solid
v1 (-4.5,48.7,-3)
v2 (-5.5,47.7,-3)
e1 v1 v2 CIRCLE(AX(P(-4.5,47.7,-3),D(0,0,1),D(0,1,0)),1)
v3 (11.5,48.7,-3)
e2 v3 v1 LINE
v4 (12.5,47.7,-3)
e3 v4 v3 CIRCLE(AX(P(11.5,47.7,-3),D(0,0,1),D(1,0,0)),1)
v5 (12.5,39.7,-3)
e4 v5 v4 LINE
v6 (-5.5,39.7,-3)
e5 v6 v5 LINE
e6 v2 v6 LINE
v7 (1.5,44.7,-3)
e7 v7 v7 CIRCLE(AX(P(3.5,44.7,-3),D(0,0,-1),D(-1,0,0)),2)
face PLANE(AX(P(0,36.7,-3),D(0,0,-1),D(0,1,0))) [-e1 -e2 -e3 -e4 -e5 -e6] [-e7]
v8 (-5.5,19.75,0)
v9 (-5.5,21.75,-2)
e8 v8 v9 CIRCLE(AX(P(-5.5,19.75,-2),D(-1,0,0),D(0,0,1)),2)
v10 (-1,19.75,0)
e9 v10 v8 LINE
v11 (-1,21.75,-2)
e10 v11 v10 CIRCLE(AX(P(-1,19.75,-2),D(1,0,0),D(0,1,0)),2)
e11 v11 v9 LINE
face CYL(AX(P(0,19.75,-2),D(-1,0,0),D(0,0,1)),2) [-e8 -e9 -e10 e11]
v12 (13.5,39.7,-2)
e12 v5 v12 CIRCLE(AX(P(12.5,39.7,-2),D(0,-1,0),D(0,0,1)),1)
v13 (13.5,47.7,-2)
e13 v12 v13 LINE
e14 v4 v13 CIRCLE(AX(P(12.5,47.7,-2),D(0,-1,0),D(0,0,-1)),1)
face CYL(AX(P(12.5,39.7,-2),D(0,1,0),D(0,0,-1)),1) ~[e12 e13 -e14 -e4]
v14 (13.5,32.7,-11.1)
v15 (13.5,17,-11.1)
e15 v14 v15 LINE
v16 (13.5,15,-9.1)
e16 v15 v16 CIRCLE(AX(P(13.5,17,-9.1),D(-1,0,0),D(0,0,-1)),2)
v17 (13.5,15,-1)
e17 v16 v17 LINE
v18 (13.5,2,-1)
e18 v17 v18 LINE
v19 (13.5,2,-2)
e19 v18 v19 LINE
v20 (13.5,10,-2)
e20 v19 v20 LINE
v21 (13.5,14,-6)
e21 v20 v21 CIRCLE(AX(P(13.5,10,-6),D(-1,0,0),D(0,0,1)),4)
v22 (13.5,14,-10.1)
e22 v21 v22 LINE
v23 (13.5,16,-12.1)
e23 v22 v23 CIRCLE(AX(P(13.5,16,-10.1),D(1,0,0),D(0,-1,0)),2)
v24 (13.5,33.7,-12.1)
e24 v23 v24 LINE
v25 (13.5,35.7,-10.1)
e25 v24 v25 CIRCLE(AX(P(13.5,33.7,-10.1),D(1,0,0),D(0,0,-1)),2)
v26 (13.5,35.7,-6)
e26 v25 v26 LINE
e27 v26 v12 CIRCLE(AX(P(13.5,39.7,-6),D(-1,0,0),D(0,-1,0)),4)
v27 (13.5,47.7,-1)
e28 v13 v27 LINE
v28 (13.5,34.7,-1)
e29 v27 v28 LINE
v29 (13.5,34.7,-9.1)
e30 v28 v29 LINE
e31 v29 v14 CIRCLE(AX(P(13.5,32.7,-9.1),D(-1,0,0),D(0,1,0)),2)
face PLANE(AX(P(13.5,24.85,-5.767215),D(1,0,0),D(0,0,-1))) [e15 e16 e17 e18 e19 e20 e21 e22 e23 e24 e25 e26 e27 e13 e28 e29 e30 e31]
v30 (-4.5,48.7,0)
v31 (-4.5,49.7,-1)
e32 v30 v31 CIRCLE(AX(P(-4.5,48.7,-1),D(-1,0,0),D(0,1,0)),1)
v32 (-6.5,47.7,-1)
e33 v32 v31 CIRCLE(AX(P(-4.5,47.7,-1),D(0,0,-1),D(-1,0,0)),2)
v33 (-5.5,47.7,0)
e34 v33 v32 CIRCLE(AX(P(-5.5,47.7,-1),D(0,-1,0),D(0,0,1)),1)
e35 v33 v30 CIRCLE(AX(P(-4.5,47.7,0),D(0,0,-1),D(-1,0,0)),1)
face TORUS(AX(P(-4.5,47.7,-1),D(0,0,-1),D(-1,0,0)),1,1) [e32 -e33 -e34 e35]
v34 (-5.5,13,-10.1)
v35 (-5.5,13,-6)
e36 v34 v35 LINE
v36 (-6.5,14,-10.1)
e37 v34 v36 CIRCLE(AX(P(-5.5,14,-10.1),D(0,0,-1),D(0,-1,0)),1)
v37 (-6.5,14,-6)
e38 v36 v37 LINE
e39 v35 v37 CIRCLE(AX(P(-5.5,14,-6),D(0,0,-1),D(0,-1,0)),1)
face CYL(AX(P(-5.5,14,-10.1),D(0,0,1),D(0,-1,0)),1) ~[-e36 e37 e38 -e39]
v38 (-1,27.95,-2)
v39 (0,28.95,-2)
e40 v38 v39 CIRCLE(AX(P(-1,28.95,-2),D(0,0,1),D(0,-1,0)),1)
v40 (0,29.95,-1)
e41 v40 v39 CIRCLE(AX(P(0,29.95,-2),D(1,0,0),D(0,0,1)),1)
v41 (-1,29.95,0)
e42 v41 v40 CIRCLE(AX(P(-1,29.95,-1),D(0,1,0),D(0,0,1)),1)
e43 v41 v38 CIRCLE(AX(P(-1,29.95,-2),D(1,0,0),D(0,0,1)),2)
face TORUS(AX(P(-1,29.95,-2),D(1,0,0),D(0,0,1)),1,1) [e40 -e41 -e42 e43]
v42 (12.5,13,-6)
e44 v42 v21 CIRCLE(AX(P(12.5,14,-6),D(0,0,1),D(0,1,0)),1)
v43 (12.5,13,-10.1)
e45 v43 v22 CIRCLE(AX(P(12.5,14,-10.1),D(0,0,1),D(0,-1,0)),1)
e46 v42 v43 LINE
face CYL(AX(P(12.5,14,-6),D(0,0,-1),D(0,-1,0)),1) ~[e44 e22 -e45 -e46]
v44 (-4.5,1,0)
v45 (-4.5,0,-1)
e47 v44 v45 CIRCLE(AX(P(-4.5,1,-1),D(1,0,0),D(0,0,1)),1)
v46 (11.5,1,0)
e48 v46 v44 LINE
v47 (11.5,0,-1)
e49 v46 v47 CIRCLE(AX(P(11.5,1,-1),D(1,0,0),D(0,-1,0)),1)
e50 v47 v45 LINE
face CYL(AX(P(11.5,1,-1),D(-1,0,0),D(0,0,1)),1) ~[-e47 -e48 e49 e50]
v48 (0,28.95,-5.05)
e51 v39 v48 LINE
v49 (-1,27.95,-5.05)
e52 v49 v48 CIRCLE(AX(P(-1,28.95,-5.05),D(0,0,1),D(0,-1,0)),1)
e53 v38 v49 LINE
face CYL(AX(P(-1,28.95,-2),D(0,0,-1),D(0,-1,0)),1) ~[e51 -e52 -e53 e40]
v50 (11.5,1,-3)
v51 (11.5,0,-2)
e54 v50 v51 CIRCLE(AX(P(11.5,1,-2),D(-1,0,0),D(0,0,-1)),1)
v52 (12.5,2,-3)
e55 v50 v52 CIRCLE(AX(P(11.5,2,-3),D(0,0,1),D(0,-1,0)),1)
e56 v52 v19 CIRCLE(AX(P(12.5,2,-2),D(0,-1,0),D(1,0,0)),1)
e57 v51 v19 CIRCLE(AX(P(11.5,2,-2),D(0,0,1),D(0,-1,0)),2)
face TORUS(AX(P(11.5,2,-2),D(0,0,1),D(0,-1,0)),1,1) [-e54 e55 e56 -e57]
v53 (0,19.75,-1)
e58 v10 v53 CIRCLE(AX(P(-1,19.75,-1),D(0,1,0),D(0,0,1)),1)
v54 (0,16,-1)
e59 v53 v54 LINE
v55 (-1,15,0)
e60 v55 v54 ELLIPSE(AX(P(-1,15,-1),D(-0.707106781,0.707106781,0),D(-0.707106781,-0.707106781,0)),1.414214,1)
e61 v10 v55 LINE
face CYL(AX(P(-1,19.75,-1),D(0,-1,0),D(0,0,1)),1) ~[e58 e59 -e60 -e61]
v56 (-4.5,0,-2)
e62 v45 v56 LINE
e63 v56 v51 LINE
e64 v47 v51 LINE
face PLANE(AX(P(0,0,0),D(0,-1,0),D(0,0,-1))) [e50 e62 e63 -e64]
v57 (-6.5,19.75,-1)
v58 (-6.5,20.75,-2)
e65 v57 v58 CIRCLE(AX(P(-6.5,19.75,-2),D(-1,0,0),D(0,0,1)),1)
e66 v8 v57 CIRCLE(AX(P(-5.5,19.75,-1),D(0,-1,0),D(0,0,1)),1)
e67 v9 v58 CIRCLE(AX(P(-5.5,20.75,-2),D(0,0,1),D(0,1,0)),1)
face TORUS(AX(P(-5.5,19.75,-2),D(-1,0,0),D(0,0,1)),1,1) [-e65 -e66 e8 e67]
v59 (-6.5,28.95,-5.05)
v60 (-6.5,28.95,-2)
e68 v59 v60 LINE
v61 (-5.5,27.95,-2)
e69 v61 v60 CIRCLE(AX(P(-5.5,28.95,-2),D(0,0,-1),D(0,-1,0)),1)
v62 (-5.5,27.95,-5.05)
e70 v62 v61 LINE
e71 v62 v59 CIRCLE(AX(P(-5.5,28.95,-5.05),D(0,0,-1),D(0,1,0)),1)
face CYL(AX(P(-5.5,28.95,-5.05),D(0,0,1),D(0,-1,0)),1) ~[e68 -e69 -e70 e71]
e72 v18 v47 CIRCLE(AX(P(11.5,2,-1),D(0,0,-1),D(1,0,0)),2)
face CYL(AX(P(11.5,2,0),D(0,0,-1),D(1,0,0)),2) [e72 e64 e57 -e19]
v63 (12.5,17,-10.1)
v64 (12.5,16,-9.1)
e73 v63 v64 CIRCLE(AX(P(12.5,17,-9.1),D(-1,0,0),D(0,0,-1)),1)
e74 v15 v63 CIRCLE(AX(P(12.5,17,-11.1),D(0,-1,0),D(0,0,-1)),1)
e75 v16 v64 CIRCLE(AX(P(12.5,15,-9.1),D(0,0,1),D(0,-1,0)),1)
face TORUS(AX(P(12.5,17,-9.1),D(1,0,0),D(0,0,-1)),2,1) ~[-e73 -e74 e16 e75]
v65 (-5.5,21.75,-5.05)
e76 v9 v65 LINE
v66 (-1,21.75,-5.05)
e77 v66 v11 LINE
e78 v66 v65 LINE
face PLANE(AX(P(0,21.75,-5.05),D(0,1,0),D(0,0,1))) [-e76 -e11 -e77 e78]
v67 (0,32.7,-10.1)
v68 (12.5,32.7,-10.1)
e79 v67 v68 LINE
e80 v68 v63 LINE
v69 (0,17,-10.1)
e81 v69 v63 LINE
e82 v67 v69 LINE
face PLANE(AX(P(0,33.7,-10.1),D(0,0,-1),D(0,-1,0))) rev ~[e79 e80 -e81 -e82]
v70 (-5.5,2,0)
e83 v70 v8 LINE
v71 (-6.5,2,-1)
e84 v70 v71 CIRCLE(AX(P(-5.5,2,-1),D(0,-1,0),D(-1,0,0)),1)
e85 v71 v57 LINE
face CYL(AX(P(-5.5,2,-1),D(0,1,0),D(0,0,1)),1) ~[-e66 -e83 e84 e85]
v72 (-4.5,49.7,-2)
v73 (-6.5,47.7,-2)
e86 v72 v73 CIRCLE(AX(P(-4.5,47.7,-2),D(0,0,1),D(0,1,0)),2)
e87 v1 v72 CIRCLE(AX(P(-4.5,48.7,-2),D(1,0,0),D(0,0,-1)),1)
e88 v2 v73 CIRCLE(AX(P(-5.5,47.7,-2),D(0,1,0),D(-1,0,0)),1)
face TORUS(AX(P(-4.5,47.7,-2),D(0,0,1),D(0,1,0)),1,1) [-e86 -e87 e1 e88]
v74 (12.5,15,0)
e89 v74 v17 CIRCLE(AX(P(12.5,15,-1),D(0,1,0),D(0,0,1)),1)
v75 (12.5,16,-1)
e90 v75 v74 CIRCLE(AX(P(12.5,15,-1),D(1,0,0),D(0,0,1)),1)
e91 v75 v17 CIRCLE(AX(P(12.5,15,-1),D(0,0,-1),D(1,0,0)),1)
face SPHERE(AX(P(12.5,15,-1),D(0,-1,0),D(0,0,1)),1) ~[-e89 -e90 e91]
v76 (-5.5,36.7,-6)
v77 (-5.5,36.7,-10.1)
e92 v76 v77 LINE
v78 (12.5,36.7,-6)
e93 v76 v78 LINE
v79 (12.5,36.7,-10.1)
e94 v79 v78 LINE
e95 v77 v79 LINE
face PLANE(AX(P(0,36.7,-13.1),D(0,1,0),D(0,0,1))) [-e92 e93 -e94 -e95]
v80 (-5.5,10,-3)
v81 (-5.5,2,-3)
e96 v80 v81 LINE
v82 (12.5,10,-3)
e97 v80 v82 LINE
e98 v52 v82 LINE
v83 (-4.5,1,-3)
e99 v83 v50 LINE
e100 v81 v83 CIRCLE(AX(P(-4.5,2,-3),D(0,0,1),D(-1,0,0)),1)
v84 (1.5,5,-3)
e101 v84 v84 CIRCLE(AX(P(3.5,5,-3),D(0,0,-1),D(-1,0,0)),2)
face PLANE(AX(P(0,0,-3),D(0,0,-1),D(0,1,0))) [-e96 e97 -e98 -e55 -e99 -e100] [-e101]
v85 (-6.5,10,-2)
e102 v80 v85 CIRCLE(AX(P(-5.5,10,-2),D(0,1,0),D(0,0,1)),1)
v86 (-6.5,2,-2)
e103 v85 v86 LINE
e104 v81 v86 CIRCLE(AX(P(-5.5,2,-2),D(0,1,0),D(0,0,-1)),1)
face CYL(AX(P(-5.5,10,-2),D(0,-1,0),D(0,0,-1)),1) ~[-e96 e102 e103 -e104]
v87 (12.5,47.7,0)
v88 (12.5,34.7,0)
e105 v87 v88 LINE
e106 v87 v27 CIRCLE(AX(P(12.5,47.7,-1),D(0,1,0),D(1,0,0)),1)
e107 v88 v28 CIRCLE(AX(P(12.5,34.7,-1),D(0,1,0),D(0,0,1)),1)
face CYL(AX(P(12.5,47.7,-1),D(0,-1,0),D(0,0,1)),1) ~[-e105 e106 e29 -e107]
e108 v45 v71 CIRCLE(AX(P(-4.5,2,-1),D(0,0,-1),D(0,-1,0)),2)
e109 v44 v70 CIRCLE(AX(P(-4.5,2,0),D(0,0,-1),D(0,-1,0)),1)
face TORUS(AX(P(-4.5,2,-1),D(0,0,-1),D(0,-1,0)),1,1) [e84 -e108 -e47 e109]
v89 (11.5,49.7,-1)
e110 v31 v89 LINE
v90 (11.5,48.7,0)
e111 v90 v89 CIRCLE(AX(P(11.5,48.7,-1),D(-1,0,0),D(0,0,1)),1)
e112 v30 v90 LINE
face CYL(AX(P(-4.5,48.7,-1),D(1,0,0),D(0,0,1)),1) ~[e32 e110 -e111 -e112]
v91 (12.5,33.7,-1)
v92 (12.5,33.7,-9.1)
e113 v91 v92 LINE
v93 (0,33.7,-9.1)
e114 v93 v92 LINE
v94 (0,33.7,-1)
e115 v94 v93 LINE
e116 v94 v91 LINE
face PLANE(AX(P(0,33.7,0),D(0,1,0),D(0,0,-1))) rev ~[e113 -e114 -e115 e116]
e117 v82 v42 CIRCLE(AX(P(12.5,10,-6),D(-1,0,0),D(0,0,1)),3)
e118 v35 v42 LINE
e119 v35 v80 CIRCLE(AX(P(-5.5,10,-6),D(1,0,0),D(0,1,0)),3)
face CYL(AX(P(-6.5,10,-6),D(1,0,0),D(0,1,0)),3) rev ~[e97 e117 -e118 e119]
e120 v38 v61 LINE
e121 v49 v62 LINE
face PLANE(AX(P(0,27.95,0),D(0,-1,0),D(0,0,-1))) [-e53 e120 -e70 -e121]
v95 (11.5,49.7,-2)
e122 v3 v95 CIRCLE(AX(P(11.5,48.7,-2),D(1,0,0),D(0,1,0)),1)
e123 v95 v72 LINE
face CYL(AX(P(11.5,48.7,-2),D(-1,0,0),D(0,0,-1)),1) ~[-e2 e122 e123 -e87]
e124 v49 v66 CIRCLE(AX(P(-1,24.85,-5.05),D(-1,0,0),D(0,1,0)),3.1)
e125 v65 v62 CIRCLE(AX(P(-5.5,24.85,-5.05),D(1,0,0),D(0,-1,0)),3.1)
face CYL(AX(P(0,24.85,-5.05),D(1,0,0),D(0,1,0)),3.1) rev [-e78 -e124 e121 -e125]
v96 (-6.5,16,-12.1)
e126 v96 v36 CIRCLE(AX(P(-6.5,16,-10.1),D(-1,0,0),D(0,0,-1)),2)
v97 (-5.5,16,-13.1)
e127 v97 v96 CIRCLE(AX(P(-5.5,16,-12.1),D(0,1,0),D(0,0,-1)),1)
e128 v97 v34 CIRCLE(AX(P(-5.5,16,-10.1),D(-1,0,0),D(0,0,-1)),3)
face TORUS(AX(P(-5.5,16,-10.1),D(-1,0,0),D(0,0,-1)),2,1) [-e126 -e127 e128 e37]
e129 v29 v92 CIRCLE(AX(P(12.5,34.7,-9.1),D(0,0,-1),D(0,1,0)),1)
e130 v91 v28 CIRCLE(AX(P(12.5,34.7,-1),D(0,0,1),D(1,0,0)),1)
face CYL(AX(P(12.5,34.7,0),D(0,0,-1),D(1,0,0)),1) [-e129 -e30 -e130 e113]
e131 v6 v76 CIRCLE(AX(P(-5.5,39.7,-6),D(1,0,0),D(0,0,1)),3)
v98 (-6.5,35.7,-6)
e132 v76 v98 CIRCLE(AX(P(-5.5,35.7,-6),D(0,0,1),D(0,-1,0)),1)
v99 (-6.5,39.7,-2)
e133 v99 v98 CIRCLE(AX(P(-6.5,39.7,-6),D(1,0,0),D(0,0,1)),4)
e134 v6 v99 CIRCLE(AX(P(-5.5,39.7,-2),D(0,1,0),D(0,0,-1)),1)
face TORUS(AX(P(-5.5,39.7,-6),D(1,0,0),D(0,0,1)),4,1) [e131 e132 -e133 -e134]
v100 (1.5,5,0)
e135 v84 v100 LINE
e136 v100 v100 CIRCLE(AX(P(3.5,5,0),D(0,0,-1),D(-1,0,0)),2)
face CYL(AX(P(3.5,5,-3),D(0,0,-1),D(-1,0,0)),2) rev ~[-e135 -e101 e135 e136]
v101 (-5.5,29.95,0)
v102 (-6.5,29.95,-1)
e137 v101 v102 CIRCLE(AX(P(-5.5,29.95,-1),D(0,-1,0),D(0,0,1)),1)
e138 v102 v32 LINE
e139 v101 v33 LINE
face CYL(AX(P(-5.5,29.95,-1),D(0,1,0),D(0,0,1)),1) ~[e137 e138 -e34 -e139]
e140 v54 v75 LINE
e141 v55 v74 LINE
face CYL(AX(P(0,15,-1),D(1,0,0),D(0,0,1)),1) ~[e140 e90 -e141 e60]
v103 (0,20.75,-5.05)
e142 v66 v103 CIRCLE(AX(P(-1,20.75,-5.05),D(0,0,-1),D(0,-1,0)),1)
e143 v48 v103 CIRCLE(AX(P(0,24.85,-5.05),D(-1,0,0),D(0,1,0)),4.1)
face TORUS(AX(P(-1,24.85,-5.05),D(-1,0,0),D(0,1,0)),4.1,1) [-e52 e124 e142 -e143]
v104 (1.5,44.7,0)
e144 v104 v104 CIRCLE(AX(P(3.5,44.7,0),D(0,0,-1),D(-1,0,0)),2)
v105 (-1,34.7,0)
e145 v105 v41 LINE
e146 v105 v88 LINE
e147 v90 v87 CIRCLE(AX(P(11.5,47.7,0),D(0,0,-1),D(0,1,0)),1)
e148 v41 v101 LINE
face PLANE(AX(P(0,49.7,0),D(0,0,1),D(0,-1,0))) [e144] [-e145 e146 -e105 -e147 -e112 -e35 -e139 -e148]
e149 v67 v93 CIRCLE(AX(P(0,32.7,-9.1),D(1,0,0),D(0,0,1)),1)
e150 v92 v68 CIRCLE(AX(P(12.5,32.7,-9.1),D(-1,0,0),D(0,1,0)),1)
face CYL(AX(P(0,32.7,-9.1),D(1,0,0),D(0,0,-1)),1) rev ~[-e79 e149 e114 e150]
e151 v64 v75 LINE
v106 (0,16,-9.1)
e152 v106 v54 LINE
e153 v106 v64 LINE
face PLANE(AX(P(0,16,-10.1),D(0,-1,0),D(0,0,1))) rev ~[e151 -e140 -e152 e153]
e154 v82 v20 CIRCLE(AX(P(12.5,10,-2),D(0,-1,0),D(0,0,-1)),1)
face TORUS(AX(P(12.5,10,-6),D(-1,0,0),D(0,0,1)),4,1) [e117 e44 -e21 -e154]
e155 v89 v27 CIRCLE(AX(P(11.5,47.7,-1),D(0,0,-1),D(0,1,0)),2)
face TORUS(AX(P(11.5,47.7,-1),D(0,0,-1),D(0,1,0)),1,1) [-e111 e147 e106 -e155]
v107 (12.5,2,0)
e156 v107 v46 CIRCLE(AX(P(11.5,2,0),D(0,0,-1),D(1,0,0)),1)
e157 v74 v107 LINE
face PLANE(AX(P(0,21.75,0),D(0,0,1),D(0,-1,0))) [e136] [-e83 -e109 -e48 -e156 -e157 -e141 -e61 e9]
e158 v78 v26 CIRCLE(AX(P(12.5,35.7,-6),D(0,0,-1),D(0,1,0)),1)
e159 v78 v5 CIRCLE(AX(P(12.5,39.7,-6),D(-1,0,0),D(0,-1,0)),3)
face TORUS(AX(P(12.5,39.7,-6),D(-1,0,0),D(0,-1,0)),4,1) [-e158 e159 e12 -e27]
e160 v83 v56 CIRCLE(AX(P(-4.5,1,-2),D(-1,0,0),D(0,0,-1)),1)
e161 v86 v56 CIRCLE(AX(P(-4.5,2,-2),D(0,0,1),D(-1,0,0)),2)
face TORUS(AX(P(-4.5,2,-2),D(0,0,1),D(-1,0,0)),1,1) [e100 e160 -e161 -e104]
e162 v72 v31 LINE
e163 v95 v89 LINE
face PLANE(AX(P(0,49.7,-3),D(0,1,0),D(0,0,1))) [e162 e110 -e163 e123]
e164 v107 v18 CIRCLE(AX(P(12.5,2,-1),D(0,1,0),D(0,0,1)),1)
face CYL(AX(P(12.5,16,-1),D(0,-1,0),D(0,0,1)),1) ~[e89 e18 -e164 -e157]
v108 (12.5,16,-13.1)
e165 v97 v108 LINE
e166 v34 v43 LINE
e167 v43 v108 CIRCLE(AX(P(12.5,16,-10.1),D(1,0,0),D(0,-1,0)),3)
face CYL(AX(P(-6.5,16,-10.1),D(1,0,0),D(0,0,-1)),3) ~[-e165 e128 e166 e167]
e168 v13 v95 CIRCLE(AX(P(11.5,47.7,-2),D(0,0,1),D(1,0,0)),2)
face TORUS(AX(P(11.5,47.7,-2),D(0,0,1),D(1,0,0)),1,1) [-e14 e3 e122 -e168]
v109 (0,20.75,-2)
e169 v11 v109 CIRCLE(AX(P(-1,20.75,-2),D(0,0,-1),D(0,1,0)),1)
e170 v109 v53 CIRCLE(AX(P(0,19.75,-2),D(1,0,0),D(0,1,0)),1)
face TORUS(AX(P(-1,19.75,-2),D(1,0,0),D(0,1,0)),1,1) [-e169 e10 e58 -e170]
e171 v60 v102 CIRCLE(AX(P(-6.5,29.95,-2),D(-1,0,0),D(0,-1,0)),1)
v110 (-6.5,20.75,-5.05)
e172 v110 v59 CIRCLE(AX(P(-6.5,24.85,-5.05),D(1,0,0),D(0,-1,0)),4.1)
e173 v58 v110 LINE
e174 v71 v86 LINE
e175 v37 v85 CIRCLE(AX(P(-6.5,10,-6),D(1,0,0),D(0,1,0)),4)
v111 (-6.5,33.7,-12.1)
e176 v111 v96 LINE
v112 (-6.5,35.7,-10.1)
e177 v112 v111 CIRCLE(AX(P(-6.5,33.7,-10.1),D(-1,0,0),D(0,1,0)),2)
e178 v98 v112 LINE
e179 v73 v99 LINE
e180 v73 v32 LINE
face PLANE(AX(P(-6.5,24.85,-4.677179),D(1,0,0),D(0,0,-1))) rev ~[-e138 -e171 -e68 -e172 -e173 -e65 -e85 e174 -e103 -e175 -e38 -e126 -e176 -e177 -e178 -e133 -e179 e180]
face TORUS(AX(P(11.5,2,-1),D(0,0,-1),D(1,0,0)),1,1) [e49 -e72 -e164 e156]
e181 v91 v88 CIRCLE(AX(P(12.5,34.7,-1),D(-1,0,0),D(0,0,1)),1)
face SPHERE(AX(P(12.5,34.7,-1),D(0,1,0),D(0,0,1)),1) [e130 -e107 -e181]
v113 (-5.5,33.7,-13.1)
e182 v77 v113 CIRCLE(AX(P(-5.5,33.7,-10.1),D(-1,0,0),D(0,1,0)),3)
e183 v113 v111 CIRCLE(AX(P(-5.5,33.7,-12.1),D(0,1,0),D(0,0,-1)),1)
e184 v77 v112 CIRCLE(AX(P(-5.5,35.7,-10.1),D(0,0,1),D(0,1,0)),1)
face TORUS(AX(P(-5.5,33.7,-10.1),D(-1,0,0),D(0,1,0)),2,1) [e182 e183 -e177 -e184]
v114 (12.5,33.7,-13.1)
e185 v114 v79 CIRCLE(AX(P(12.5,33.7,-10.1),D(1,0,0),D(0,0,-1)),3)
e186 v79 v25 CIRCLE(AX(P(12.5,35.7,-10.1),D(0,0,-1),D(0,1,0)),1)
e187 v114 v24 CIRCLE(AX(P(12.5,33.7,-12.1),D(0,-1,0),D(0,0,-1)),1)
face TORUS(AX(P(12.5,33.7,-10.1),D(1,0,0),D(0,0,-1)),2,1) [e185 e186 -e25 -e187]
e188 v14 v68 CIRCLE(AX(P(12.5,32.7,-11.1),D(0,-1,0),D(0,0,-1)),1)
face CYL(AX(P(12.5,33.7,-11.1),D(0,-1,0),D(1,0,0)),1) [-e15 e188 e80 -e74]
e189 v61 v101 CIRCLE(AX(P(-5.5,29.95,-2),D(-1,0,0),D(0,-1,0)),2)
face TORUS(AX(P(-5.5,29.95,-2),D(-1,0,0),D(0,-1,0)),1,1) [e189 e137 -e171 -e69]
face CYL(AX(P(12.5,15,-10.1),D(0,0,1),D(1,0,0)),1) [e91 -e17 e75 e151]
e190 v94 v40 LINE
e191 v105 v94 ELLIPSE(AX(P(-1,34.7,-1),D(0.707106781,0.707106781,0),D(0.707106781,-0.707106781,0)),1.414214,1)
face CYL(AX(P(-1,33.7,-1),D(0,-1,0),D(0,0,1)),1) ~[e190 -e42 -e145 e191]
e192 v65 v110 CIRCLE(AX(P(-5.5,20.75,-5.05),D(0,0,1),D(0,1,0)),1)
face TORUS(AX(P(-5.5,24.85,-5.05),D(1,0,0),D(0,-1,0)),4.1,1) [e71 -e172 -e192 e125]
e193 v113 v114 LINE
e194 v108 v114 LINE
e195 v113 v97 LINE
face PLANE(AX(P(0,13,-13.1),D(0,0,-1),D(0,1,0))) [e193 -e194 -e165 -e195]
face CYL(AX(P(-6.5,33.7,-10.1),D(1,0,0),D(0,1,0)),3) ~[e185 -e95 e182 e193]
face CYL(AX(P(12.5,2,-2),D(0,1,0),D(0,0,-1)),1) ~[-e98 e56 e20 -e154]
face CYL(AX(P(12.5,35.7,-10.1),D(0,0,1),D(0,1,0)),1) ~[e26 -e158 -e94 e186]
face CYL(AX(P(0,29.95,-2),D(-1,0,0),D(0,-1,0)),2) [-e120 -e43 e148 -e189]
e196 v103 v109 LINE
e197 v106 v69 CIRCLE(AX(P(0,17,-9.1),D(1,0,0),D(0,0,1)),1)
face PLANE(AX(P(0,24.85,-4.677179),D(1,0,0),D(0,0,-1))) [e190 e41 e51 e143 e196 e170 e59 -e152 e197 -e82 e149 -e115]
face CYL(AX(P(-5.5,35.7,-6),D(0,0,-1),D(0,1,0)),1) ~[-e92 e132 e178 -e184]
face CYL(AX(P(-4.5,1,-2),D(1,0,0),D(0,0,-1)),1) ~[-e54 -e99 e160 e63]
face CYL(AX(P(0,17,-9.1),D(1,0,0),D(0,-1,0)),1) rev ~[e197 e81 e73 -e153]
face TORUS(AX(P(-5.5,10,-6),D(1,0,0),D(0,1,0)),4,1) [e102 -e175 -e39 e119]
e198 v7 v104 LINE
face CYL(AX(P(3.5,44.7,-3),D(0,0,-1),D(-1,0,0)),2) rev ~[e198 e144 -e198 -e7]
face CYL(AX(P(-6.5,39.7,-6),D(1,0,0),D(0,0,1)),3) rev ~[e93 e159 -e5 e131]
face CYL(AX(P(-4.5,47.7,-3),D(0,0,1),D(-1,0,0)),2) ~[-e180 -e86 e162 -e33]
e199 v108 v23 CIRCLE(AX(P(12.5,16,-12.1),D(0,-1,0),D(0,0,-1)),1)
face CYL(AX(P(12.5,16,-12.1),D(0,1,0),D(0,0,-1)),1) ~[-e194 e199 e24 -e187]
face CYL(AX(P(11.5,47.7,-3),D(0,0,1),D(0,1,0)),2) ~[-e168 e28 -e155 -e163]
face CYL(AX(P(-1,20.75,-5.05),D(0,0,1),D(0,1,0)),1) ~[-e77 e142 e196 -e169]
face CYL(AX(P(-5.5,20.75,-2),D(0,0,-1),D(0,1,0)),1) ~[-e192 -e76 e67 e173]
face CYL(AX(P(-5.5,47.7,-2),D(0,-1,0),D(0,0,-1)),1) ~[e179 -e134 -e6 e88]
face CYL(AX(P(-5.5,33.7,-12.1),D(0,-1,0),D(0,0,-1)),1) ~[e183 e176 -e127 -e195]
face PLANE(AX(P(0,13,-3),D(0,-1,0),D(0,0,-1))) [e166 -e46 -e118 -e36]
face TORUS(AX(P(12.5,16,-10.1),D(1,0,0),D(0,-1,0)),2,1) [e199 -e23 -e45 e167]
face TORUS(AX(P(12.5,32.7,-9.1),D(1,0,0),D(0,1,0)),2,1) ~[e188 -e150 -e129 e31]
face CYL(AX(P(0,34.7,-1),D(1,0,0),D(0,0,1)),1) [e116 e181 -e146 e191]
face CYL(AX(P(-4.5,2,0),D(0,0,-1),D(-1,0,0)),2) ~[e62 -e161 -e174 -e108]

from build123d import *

# Parameters (mm, degrees)
BOSS_EXTRUDE1_DEPTH = 13.5
BOSS_EXTRUDE2_DEPTH = 6.5
FILLET1_R           = 3
FILLET2_R           = 2
SKETCH3_R           = 2
CUT_EXTRUDE1_DEPTH  = 3
FILLET3_R           = 1


with BuildPart() as part:
    # Sketch1 → Boss-Extrude1 (new body)
    with BuildSketch(Plane(origin=(0, 0, 0), x_dir=(0, 0, -1), z_dir=(1, 0, 0))):
        Polygon((0, 0), (3, 0), (3, 13), (13.1, 13), (13.1, 36.7), (3, 36.7), (3, 49.7), (0, 49.7), (0, 33.7), (10.1, 33.7), (10.1, 16), (0, 16), align=None)
    extrude(amount=BOSS_EXTRUDE1_DEPTH)

    # Sketch2 → Boss-Extrude2 (add)
    with BuildSketch(Plane.ZY):
        with BuildLine():
            Line((0, 0), (-3, 0))
            Line((-3, 0), (-3, 13))
            Line((-3, 13), (-13.1, 13))
            Line((-13.1, 13), (-13.1, 36.7))
            Line((-13.1, 36.7), (-3, 36.7))
            Line((-3, 36.7), (-3, 49.7))
            Line((-3, 49.7), (0, 49.7))
            Line((0, 49.7), (0, 27.95))
            Line((0, 27.95), (-5.05, 27.95))
            ThreePointArc((-5.05, 27.95), (-8.15, 24.85), (-5.05, 21.75))
            Line((-5.05, 21.75), (0, 21.75))
            Line((0, 21.75), (0, 0))
        make_face()
    extrude(amount=BOSS_EXTRUDE2_DEPTH)

    # Fillet1
    fillet1_edges = [part.edges().sort_by_distance(p)[0] for p in [
        (3.5, 36.7, -3),
        (3.5, 36.7, -13.1),
        (3.5, 13, -13.1),
        (3.5, 13, -3),
    ]]
    fillet(fillet1_edges, radius=FILLET1_R)

    # Fillet2
    fillet2_edges = [part.edges().sort_by_distance(p)[0] for p in [
        (13.5, 49.7, -1.5),
        (-3.25, 21.75, 0),
        (-3.25, 27.95, 0),
        (-6.5, 49.7, -1.5),
        (-6.5, 0, -1.5),
        (13.5, 0, -1.5),
    ]]
    fillet(fillet2_edges, radius=FILLET2_R)

    # Sketch3 → Cut-Extrude1 (cut)
    with BuildSketch(Plane(origin=(0, 0, -3), x_dir=(-1, 0, 0), z_dir=(0, 0, -1))):
        with Locations((-3.5, 5)):
            Circle(SKETCH3_R)
        with Locations((-3.5, 44.7)):
            Circle(SKETCH3_R)
    extrude(amount=-CUT_EXTRUDE1_DEPTH, mode=Mode.SUBTRACT)

    # Fillet3
    fillet3_edges = [part.edges().sort_by_distance(p)[0] for p in [
        (3.5, 0, -3),
        (-5.914213562, 0.585786438, -3),
        (12.914213562, 0.585786438, -3),
        (3.5, 0, 0),
        (-6.5, 10.875, 0),
        (-5.914213562, 0.585786438, 0),
        (12.914213562, 0.585786438, 0),
        (-6.5, 21.75, -3.525),
        (-6.5, 38.825, 0),
        (-6.5, 43.7, -3),
        (-6.5, 28.535786438, -0.585786438),
        (-6.5, 21.164213562, -0.585786438),
        (3.5, 49.7, -3),
        (12.914213562, 49.114213562, -3),
        (-5.914213562, 49.114213562, -3),
        (3.5, 49.7, 0),
        (0, 31.825, 0),
        (12.914213562, 49.114213562, 0),
        (-5.914213562, 49.114213562, 0),
        (0, 21.75, -3.525),
        (0, 28.535786438, -0.585786438),
        (0, 21.164213562, -0.585786438),
        (6.75, 16, 0),
        (6.75, 16, -10.1),
        (6.75, 33.7, -10.1),
        (6.75, 33.7, 0),
        (0, 17.875, 0),
        (0, 24.85, -8.15),
        (0, 27.95, -3.525),
        (13.5, 33.7, -5.05),
        (-6.5, 24.85, -8.15),
        (-6.5, 27.95, -3.525),
        (13.5, 24.85, -10.1),
        (13.5, 16, -5.05),
        (13.5, 9, 0),
        (-6.5, 24.85, -13.1),
        (13.5, 24.85, -13.1),
        (-6.5, 36.7, -8.05),
        (-6.5, 13, -8.05),
        (-6.5, 6, -3),
        (-6.5, 35.821320344, -12.221320344),
        (-6.5, 13.878679656, -12.221320344),
        (13.5, 13, -8.05),
        (13.5, 36.7, -8.05),
        (13.5, 43.7, -3),
        (13.5, 35.821320344, -12.221320344),
        (13.5, 13.878679656, -12.221320344),
        (-6.5, 12.121320344, -3.878679656),
        (13.5, 12.121320344, -3.878679656),
        (-6.5, 37.578679656, -3.878679656),
        (13.5, 37.578679656, -3.878679656),
        (13.5, 40.7, 0),
        (13.5, 6, -3),
    ]]
    fillet(fillet3_edges, radius=FILLET3_R)


solid = part.part
